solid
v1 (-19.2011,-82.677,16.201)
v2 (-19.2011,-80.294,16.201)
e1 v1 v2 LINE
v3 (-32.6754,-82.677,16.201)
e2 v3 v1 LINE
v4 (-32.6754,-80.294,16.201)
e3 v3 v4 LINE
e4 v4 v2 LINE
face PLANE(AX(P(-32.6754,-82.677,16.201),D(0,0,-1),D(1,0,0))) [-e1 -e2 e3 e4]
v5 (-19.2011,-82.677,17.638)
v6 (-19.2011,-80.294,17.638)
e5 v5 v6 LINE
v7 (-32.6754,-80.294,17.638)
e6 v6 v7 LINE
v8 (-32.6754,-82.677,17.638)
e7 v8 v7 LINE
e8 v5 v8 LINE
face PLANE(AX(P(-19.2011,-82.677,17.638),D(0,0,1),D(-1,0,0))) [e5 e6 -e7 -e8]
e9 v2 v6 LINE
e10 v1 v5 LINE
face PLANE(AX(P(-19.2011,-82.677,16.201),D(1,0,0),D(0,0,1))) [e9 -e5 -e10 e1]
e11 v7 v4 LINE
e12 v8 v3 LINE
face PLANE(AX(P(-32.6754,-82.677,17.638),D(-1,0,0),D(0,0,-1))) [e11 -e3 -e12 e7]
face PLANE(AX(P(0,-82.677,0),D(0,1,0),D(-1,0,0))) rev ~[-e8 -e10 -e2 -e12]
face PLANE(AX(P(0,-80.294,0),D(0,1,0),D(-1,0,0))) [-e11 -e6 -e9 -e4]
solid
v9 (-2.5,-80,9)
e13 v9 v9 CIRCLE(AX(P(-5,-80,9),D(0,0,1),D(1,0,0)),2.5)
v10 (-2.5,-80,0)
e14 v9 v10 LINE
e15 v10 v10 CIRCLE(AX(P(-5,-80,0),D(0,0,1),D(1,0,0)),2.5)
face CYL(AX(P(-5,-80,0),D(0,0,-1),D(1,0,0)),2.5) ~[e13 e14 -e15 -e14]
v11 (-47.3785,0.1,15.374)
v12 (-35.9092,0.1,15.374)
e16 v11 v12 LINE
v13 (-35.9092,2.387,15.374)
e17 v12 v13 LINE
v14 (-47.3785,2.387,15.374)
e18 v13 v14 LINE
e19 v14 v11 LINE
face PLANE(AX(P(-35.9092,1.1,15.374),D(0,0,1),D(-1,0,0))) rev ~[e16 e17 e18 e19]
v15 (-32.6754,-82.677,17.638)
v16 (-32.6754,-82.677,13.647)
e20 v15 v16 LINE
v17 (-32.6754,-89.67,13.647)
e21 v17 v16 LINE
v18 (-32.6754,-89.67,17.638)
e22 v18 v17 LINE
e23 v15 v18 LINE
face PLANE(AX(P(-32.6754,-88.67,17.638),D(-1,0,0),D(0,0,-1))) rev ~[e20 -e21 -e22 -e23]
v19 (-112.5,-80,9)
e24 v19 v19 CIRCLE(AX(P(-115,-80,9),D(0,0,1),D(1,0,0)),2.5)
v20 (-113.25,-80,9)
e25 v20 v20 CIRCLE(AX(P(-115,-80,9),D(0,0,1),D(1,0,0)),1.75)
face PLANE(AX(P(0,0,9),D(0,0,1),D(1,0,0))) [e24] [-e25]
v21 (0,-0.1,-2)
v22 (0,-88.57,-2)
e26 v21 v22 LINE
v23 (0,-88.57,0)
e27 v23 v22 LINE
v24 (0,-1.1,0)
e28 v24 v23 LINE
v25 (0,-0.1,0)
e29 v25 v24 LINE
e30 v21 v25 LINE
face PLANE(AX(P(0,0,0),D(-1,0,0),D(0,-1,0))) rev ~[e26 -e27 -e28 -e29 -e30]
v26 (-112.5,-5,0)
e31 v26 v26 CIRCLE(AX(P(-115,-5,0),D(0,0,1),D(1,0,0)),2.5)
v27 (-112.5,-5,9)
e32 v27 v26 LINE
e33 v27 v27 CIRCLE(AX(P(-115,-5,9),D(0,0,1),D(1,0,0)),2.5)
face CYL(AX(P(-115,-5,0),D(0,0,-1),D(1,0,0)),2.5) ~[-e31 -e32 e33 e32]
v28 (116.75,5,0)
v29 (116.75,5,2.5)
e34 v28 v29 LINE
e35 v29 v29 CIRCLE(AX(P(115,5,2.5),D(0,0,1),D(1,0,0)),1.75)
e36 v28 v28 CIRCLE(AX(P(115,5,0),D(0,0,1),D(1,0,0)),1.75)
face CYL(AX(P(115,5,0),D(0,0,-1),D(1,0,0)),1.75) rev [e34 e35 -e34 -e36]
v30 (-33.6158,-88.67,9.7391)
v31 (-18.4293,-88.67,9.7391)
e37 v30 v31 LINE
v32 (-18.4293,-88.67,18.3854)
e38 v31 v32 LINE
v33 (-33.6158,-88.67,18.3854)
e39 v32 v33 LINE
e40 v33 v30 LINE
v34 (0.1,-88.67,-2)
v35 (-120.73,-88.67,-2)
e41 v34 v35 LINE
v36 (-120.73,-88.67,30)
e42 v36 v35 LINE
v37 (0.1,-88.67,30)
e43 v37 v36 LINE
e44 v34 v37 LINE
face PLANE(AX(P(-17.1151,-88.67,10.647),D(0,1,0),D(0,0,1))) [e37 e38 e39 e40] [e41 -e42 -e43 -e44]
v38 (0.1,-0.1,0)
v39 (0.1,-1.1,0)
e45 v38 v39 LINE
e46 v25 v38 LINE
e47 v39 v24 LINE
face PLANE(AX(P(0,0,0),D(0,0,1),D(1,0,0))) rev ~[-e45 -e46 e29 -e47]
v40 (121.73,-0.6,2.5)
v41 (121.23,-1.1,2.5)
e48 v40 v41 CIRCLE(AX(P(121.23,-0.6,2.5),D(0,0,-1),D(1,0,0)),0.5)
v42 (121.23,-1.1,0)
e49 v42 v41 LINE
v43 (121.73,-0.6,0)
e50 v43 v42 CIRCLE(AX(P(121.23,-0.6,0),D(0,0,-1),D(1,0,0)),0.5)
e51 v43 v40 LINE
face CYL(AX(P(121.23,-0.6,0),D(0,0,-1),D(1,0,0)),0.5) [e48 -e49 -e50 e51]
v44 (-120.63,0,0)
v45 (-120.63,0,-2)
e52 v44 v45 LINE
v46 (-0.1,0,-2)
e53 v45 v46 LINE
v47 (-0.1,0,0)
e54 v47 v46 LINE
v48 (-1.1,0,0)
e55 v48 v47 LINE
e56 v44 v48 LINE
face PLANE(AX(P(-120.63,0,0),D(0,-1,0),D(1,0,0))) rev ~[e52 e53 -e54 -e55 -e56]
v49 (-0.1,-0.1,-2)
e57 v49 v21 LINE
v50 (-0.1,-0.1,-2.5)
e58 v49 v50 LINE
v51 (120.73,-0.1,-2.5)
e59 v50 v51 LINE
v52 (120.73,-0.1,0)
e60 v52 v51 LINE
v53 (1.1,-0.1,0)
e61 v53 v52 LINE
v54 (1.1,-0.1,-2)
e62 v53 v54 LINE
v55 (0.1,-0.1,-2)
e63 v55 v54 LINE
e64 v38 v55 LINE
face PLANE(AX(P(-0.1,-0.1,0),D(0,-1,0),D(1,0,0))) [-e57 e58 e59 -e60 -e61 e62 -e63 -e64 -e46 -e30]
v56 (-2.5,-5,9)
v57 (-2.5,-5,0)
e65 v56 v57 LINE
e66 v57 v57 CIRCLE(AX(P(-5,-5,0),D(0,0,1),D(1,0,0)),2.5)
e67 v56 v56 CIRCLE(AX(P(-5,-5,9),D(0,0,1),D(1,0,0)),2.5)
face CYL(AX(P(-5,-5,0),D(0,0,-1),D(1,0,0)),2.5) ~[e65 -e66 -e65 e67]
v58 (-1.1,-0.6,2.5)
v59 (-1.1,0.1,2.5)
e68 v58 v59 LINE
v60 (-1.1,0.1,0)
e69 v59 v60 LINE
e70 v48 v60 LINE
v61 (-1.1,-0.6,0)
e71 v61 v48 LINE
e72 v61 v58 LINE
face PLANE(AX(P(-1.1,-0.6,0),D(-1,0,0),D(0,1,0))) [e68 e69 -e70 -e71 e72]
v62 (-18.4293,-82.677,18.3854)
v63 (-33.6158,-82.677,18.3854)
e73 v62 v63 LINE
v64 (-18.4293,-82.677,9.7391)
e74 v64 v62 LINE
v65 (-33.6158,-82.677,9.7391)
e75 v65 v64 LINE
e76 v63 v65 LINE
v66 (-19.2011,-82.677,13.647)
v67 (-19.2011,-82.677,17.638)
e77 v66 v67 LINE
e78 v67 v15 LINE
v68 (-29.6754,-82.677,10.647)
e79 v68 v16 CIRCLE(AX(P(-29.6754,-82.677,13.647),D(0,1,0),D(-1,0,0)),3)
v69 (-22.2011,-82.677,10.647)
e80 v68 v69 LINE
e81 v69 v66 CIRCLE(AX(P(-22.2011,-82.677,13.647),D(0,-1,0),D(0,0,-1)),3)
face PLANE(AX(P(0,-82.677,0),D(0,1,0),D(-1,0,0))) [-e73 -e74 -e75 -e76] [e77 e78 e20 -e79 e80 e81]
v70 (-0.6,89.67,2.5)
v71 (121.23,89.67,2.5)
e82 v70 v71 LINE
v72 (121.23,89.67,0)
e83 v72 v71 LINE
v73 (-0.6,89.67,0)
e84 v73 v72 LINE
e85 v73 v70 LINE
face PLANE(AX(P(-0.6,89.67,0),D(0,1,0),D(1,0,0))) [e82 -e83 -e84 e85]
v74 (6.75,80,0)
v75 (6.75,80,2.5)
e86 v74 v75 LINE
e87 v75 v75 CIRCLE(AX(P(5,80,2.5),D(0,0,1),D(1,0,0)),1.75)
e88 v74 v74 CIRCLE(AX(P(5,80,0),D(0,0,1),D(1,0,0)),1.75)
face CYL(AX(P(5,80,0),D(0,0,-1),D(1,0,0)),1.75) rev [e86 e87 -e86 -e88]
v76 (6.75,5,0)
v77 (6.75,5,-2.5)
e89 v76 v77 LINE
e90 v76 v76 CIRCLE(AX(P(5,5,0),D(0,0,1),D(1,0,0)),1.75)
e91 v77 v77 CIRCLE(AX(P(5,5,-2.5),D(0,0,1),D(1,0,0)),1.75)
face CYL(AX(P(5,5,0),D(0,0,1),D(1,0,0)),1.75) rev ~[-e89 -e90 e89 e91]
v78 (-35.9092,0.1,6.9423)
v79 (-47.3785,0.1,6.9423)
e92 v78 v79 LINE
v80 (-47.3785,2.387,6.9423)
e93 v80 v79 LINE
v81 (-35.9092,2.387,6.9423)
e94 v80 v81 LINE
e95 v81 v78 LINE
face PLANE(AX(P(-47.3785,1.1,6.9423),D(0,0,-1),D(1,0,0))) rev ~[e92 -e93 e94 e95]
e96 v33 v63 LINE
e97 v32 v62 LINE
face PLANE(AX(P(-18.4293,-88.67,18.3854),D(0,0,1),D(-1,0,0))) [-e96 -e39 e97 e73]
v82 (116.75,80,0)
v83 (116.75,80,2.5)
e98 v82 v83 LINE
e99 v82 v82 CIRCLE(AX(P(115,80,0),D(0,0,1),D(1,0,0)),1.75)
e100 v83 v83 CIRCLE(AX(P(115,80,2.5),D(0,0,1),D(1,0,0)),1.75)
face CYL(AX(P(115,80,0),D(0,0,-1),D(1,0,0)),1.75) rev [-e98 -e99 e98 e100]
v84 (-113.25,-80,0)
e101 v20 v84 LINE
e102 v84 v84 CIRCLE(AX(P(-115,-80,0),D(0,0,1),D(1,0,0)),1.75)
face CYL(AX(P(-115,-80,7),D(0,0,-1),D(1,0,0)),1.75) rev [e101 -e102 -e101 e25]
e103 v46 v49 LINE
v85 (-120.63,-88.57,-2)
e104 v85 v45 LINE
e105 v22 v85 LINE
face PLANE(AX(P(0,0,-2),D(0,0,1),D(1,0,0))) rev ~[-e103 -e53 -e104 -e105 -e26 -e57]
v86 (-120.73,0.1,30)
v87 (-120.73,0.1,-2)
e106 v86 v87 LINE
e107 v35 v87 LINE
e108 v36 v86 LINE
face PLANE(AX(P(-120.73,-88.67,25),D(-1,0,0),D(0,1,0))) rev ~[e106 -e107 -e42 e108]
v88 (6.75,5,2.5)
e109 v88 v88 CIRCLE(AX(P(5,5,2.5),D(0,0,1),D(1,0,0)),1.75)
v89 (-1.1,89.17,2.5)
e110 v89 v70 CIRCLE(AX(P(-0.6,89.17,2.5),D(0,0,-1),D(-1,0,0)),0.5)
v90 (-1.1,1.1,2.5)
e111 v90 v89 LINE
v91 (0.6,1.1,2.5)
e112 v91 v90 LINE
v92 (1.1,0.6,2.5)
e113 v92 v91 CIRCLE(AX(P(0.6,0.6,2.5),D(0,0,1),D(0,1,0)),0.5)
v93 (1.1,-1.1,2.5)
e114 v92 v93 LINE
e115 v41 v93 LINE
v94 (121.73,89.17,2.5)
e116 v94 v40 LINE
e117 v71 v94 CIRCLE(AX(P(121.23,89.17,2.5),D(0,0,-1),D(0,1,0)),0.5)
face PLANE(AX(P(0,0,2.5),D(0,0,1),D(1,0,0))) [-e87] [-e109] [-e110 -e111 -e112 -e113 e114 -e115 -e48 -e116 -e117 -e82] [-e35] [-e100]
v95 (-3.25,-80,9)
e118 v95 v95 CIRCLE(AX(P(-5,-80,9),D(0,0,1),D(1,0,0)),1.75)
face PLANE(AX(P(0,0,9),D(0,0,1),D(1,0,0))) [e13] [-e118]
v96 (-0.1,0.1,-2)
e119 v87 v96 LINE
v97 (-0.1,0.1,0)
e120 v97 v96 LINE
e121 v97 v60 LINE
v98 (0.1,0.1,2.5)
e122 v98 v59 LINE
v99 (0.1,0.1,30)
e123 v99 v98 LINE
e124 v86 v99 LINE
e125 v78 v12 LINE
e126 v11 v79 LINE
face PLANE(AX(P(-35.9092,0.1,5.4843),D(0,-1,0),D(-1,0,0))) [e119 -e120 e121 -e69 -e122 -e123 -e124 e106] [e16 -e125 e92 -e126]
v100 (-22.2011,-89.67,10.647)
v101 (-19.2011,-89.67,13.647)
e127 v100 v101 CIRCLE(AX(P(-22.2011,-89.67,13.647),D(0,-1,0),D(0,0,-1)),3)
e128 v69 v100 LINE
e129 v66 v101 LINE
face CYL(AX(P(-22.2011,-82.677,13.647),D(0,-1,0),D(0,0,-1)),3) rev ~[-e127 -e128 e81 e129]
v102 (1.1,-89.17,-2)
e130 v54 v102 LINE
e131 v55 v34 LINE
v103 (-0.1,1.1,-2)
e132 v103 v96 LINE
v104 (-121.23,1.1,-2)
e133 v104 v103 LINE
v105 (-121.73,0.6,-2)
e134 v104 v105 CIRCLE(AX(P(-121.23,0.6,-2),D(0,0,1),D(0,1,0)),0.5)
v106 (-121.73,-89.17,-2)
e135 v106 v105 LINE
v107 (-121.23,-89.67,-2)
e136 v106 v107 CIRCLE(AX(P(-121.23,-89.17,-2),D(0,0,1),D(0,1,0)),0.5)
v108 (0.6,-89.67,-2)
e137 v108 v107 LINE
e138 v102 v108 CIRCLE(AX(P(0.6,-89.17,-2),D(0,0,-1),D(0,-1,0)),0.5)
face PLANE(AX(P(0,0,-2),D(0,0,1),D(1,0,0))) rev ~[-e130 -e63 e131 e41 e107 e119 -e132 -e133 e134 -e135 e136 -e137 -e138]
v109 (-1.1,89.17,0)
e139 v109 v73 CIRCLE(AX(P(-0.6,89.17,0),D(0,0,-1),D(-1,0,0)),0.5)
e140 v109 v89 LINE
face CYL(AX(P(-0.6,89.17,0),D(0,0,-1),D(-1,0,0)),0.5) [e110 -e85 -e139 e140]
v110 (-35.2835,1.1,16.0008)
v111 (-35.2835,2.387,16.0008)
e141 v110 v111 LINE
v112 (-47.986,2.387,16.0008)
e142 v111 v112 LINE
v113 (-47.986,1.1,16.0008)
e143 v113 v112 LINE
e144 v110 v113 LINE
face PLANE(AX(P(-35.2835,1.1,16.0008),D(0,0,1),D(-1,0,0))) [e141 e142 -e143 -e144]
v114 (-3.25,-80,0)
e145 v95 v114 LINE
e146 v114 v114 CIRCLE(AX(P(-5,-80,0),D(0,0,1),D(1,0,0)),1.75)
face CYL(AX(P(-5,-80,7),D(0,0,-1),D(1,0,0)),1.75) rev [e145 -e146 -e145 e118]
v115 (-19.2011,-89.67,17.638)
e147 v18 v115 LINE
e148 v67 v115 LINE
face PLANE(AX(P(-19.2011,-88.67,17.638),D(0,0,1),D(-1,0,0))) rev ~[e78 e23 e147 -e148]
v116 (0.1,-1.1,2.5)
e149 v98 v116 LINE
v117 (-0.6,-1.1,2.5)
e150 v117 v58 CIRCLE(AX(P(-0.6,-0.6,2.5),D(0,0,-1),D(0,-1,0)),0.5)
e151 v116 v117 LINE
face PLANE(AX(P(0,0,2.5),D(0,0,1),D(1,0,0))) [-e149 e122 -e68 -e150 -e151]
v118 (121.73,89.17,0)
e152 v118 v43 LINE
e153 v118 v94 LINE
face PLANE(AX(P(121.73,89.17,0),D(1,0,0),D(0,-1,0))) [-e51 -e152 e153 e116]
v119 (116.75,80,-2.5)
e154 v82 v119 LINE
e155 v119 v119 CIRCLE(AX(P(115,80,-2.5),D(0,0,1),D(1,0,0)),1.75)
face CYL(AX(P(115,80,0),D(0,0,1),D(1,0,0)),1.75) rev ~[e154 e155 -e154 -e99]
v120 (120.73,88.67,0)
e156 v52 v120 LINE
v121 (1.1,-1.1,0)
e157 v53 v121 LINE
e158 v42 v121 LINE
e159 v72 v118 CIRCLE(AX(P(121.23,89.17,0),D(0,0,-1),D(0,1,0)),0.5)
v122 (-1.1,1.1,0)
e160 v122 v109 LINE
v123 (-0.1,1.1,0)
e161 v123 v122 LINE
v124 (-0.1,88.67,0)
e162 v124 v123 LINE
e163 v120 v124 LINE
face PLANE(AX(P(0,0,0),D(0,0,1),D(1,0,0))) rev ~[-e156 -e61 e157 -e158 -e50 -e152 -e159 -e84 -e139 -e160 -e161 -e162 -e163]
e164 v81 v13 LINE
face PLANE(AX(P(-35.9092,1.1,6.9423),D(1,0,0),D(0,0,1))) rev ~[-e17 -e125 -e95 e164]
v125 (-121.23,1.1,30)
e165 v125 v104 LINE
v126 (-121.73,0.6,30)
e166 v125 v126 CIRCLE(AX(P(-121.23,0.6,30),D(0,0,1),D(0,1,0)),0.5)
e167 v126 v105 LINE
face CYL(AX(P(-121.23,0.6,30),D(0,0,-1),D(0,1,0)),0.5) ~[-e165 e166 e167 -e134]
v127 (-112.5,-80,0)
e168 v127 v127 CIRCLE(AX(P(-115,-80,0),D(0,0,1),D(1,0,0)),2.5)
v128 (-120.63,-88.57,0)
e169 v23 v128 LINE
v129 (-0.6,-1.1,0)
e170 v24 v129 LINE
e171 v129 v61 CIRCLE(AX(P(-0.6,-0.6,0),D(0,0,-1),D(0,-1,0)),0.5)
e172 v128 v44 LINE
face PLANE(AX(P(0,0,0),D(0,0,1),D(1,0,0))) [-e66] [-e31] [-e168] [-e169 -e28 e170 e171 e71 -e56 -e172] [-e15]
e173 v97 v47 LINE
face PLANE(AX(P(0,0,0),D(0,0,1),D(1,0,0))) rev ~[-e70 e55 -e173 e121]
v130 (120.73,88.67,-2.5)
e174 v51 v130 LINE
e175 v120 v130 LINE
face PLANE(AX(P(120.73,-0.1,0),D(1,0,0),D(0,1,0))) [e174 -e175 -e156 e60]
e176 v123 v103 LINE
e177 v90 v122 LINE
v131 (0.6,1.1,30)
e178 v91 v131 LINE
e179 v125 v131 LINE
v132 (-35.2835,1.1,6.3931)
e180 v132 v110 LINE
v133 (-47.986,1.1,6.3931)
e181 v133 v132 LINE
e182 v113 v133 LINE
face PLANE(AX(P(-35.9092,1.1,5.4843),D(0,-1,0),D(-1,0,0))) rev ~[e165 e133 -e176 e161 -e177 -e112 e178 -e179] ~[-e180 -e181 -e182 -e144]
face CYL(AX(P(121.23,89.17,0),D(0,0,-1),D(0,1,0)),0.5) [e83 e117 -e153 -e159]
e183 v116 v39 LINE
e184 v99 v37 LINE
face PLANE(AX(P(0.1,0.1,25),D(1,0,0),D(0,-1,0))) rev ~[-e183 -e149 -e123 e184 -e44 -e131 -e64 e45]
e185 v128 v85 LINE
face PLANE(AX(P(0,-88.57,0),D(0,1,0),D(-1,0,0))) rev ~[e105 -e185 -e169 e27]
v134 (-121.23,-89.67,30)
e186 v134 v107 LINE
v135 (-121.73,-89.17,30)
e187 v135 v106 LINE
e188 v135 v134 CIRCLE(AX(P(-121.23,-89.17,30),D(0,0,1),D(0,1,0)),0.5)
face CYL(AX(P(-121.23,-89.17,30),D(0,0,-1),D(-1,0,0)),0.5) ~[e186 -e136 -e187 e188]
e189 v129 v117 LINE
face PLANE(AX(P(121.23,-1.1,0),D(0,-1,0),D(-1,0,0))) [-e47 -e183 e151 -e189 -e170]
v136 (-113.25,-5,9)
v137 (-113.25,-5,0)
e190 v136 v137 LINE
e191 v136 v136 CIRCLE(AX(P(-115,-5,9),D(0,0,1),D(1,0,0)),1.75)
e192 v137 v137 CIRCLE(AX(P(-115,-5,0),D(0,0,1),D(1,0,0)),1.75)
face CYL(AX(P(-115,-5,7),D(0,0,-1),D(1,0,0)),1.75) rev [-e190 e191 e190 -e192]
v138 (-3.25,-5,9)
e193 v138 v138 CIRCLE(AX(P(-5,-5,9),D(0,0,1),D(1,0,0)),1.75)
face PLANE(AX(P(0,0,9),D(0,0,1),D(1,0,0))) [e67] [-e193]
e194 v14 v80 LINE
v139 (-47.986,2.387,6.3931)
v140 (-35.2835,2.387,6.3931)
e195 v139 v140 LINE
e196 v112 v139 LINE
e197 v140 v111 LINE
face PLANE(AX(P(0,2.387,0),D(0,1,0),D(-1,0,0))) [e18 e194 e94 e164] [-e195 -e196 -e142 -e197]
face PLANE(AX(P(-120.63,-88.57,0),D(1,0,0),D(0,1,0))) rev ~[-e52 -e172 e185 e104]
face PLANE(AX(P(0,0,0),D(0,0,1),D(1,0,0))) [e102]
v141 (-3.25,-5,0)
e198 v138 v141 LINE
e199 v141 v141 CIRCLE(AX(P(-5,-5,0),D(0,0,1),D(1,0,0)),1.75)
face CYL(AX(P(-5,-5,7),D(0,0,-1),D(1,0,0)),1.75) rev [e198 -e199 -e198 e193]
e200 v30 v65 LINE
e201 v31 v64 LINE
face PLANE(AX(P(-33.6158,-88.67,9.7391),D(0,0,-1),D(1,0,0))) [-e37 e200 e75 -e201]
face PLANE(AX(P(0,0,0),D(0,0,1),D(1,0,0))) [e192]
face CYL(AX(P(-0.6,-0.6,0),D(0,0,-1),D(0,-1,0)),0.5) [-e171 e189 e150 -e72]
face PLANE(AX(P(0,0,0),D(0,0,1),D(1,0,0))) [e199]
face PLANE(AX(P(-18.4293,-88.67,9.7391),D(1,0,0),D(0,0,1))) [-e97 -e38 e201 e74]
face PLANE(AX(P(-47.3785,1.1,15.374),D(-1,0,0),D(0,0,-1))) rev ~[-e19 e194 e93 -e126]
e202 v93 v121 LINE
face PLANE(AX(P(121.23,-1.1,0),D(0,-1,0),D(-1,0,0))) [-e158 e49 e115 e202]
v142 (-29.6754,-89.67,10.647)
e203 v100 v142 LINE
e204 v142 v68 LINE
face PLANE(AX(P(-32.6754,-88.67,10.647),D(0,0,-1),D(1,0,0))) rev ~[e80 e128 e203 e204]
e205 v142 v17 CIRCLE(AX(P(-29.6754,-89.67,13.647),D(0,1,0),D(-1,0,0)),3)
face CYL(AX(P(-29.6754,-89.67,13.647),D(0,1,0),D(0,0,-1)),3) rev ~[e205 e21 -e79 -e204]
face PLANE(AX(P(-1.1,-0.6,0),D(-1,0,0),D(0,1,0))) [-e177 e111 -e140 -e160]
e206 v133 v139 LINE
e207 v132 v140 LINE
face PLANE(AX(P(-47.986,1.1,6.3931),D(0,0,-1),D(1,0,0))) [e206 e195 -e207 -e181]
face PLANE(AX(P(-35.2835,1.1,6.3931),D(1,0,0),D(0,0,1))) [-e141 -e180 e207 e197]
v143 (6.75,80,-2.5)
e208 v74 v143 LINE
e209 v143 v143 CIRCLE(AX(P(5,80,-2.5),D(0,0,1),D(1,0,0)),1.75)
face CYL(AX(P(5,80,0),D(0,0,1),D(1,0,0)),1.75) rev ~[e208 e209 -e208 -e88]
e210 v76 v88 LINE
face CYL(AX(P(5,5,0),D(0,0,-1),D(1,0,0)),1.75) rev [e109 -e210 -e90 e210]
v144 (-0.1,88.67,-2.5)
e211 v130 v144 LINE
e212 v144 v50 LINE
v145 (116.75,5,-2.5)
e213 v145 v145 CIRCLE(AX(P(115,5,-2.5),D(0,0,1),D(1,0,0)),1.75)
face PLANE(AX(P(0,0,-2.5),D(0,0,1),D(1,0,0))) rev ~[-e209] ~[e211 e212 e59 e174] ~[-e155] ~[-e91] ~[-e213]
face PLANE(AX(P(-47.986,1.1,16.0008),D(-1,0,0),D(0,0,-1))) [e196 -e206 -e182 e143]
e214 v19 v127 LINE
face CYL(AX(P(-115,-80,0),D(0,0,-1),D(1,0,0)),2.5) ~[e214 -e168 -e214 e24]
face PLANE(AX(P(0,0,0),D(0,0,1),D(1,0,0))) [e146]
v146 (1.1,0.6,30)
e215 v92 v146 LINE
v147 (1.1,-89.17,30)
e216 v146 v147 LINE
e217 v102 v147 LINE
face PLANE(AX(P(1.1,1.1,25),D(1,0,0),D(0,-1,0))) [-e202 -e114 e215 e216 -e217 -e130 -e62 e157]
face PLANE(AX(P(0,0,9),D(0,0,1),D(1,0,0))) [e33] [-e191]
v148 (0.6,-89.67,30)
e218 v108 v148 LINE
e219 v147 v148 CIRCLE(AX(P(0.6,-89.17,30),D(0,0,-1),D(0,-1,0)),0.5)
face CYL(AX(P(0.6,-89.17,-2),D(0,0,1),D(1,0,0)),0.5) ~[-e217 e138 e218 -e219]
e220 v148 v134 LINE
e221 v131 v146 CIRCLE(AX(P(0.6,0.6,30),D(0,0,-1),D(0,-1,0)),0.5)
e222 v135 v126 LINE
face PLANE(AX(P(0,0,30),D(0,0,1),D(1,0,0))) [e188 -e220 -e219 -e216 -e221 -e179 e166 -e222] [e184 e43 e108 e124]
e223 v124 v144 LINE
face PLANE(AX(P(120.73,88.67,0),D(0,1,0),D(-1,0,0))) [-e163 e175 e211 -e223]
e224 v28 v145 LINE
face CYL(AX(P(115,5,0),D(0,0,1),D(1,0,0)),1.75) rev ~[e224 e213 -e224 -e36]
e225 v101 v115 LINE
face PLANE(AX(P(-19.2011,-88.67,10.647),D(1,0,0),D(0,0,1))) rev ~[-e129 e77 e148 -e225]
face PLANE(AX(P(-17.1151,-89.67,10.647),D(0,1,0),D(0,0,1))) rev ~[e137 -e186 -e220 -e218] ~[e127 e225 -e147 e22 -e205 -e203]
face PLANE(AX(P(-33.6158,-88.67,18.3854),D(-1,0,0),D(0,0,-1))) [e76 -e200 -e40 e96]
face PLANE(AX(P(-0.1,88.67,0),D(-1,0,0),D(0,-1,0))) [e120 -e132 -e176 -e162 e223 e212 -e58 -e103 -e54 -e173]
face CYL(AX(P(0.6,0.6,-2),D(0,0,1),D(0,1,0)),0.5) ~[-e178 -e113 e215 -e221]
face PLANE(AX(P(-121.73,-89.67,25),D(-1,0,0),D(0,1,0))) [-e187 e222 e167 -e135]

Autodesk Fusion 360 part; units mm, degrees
sketch "Sketch 1" plane through (0, 0, 0) normal (0, 0, 1) x (1, 0, 0)
  line L0 (-120.63, -88.57) -> (-120.63, 0)
  circle A0 centre (-115, -5) radius 1.75
  line L1 (0, 0) -> (0, -88.57)
  circle A1 centre (-115, -80) radius 1.75
  line L2 (-120.63, 0) -> (0, 0)
  circle A2 centre (-5, -80) radius 1.75
  line L3 (0, -88.57) -> (-120.63, -88.57)
  circle A3 centre (-5, -5) radius 1.75
  line L4 (0.1, -88.67) -> (-120.73, -88.67)
  line L5 (-120.73, -88.67) -> (-120.73, 0.1)
  line L6 (-120.73, 0.1) -> (0.1, 0.1)
  line L7 (0.1, 0.1) -> (0.1, -88.67)
  line L8 (1.1, -89.67) -> (-121.73, -89.67)
  line L9 (-121.73, -89.67) -> (-121.73, 1.1)
  line L10 (-121.73, 1.1) -> (1.1, 1.1)
  line L11 (1.1, 1.1) -> (1.1, -89.67)
  circle A4 centre (-115, -5) radius 2.5
  circle A5 centre (-115, -80) radius 2.5
  circle A6 centre (-5, -80) radius 2.5
  circle A7 centre (-5, -5) radius 2.5
  dimension "d1" = -0.1
  dimension "d2" = -1.1
  dimension "d7" = 5
  dimension "d8" = 5
  dimension "d9" = 5
  dimension "d10" = 5
extrude "Extrude1" add sketch "Sketch 1" against normal blind 2 contours L0 L1 L2 L3 | A0 | A1 | A2 | A3 | L8 L9 L10 L11 | A4 | A5 | A6 | A7 makes body 1 at (-40.21, -29.5233, 0) makes body 2 at (-40.1767, 0.7667, 0)
extrude "Extrude2" add sketch "Sketch 1" along normal blind 35 contours L8 L9 L10 L11 bodies 2
extrude "Extrude4" add sketch "Sketch 1" along normal blind 4 contours A4 | A5 | A6 | A7 bodies 1
extrude "Extrude5" add 4 faces at (-2.7658, -5.2111, 4) (-113.9872, -7.0026, 4) (-117.1045, -80.7791, 4) (-2.7593, -80.1242, 4) along direction (0, 0, 1) blind 3 on bodies 1 bodies 1
extrude "Extrude6" add 4 faces at (-113.9872, -7.0026, 7) (-2.7658, -5.2111, 7) (-117.1045, -80.7791, 7) (-2.7593, -80.1242, 7) along direction (0, 0, 1) blind 2 on bodies 1 bodies 1
extrude "Extrude7" cut 1 faces at (-40.1767, 0.7667, 35) along direction (0, 0, -1) blind 10 on bodies 2 bodies 2
extrude "Extrude8" add 1 faces at (-40.1767, 0.7667, 25) along direction (0, 0, 1) blind 5 on bodies 2 bodies 2
sketch "Sketch3" plane through (0, -89.67, 0) normal (0, -1, 0) x (1, 0, 0)
  line L0 (-121.73, 30) -> (-121.73, -2)
  line L1 (-121.73, -2) -> (1.1, -2)
  line L2 (1.1, -2) -> (1.1, 30)
  line L3 (1.1, 30) -> (-121.73, 30)
  line L4 (1.1, 5.8274) -> (-16.9, 5.8274) construction
  line L5 (-17.1151, -2) -> (-17.1151, 6) construction
  line L6 (-17.1151, 6) -> (-31.8464, 6)
  line L7 (-31.8464, 6) -> (-31.8464, 13)
  line L8 (-31.8464, 13) -> (-17.1151, 13)
  line L9 (-17.1151, 13) -> (-17.1151, 6)
  dimension "d23" = 18
  dimension "d24" = 8
  dimension "d25" = 7
extrude "Extrude9" cut sketch "Sketch3" along normal blind 5.784 from surface at -1 contours L6 L7 L8 L9 bodies 2
extrude "Extrude10" add 1 faces at (-22.0255, -89.0033, 6) along direction (0, 0, 1) blind 2.752 on bodies 2 bodies 2
extrude "Extrude11" cut 1 faces at (-26.936, -89.0033, 13) along direction (0, 0, 1) blind 2.948 on bodies 2 bodies 2
extrude "Extrude12" cut 1 faces at (-26.936, -89.0033, 15.948) along direction (0, 0, 1) blind 1.69 on bodies 2 bodies 2
extrude "Extrude13" add 1 faces at (-22.0255, -89.0033, 8.752) along direction (0, 0, 1) blind 1.895 on bodies 2 bodies 2
extrude "Extrude14" add 1 faces at (-17.1151, -89.0033, 15.3077) along direction (-1, 0, 0) blind 2.086 on bodies 2 bodies 2
extrude "Extrude15" cut 1 faces at (-31.8464, -89.0033, 12.9773) along direction (-1, 0, 0) blind 0.829 on bodies 2 bodies 2
sketch "Sketch4" plane through (0, -88.67, 0) normal (0, 1, 0) x (-1, 0, 0)
  line L0 (32.6754, 10.647) -> (19.2011, 10.647)
  line L1 (19.2011, 10.647) -> (19.2011, 17.638)
  line L2 (19.2011, 17.638) -> (32.6754, 17.638)
  line L3 (32.6754, 17.638) -> (32.6754, 10.647)
  line L4 (-0.1, 30) -> (-0.1, -2)
  line L5 (-0.1, -2) -> (120.73, -2)
  line L6 (120.73, -2) -> (120.73, 30)
  line L7 (120.73, 30) -> (-0.1, 30)
  line L8 (18.4293, 18.3854) -> (33.6158, 18.3854)
  line L9 (33.6158, 18.3854) -> (33.6158, 9.7391)
  line L10 (33.6158, 9.7391) -> (18.4293, 9.7391)
  line L11 (18.4293, 9.7391) -> (18.4293, 18.3854)
extrude "Extrude16" add sketch "Sketch4" along normal blind 12.179 contours L8 L9 L10 L11 bodies 2
extrude "Extrude17" cut 1 faces at (-33.3023, -76.491, 12.9239) along direction (0, -1, 0) blind 6.186 on bodies 2 bodies 2
fillet "Fillet1" radius 0.5 1 edges at (1.1, 1.1, 14) on bodies 2
fillet "Fillet2" radius 0.5 1 edges at (1.1, -89.67, 14) on bodies 2
fillet "Fillet3" radius 0.5 1 edges at (-121.73, 1.1, 14) on bodies 2
fillet "Fillet4" radius 0.5 1 edges at (-121.73, -89.67, 14) on bodies 2
fillet "Fillet5" radius 3 1 edges at (-19.2011, -86.1735, 10.647) on bodies 2
fillet "Fillet6" radius 3 1 edges at (-32.6754, -86.1735, 10.647) on bodies 2
sketch "Sketch5" plane through (0, -82.677, 0) normal (0, 1, 0) x (-1, 0, 0)
  line L0 (19.2011, 17.638) -> (32.6754, 17.638)
  line L1 (32.6754, 17.638) -> (32.6754, 13.647)
  arc A0 (29.6754, 10.647) -> (32.6754, 13.647) centre (29.6754, 13.647) ccw
  line L2 (29.6754, 10.647) -> (22.2011, 10.647)
  arc A1 (19.2011, 13.647) -> (22.2011, 10.647) centre (22.2011, 13.647) ccw
  line L3 (19.2011, 13.647) -> (19.2011, 17.638)
  line L4 (18.4293, 9.7391) -> (33.6158, 9.7391)
  line L5 (33.6158, 9.7391) -> (33.6158, 18.3854)
  line L6 (33.6158, 18.3854) -> (18.4293, 18.3854)
  line L7 (18.4293, 18.3854) -> (18.4293, 9.7391)
  line L8 (19.2011, 17.638) -> (32.6754, 17.638)
  line L9 (32.6754, 17.638) -> (32.6754, 16.201)
  line L10 (32.6754, 16.201) -> (19.2011, 16.201)
  line L11 (19.2011, 16.201) -> (19.2011, 17.638)
extrude "Extrude18" add sketch "Sketch5" along normal blind 2.383 separate body contours L0 L1 L3 L8 L9 L10 L11 makes body 3
sketch "Sketch6" plane through (0, -82.677, 0) normal (0, 1, 0) x (-1, 0, 0)
  line L0 (19.2011, 17.638) -> (32.6754, 17.638)
  line L1 (32.6754, 17.638) -> (32.6754, 13.647)
  arc A0 (29.6754, 10.647) -> (32.6754, 13.647) centre (29.6754, 13.647) ccw
  line L2 (29.6754, 10.647) -> (22.2011, 10.647)
  arc A1 (19.2011, 13.647) -> (22.2011, 10.647) centre (22.2011, 13.647) ccw
  line L3 (19.2011, 13.647) -> (19.2011, 17.638)
  line L4 (18.4293, 9.7391) -> (33.6158, 9.7391)
  line L5 (33.6158, 9.7391) -> (33.6158, 18.3854)
  line L6 (33.6158, 18.3854) -> (18.4293, 18.3854)
  line L7 (18.4293, 18.3854) -> (18.4293, 9.7391)
sketch "Sketch7" plane through (0, -82.677, 0) normal (0, 1, 0) x (-1, 0, 0)
sketch "Sketch8" plane through (0, -82.677, 0) normal (0, 1, 0) x (-1, 0, 0)
sketch "Sketch9" plane through (0, -82.677, 0) normal (0, 1, 0) x (-1, 0, 0)
sketch "Sketch10" plane through (0, -88.67, 0) normal (0, 1, 0) x (-1, 0, 0)
sketch "Sketch11" plane through (0, 1.1, 0) normal (0, 1, 0) x (-1, 0, 0)
  line L0 (121.23, -2) -> (121.23, 30)
  line L1 (121.23, 30) -> (-0.6, 30)
  line L2 (-0.6, 30) -> (-0.6, -2)
  line L3 (-0.6, -2) -> (121.23, -2)
  line L4 (19.1502, 15.374) -> (32.0205, 15.374)
  line L5 (32.0205, 15.374) -> (32.0205, 4.3423)
  line L6 (32.0205, 4.3423) -> (19.1502, 4.3423)
  line L7 (19.1502, 4.3423) -> (19.1502, 15.374)
extrude "Extrude19" cut sketch "Sketch11" along normal blind 7.369 from surface at -1 contours L4 L5 L6 L7 bodies 2
extrude "Extrude20" cut 1 faces at (-32.0205, 0.4333, 11.6967) along direction (-1, 0, 0) blind 22.557 on bodies 2 bodies 2
extrude "Extrude21" add 1 faces at (-19.1502, 0.4333, 8.0195) along direction (-1, 0, 0) blind 20.425 on bodies 2 bodies 2
extrude "Extrude22" cut 1 faces at (-39.5752, 0.4333, 8.0195) along direction (1, 0, 0) blind 4.126 on bodies 2 bodies 2
extrude "Extrude23" add 1 faces at (-54.5775, 0.4333, 11.6967) along direction (1, 0, 0) blind 5.127 on bodies 2 bodies 2
extrude "Extrude24" add 1 faces at (-44.7834, 0.4333, 4.3423) along direction (0, 0, 1) blind 0.064 on bodies 2 bodies 2
extrude "Extrude25" add 1 faces at (-49.4505, 0.4333, 11.7181) along direction (1, 0, 0) blind 2.072 on bodies 2 bodies 2
extrude "Extrude26" add 1 faces at (-35.4492, 0.7667, 8.0622) along direction (-1, 0, 0) blind 0.46 on bodies 2 bodies 2
extrude "Extrude27" add 1 faces at (-43.5554, 0.4333, 4.4063) along direction (0, 0, 1) blind 1.078 on bodies 2 bodies 2
extrude "Extrude28" add 1 faces at (-43.5554, 0.4333, 5.4843) along direction (0, 0, 1) blind 1.458 on bodies 2 bodies 2
sketch "Sketch12" plane through (0, 1.1, 0) normal (0, 1, 0) x (-1, 0, 0)
  line L0 (35.9092, 15.374) -> (47.3785, 15.374)
  line L1 (47.3785, 15.374) -> (47.3785, 6.9423)
  line L2 (47.3785, 6.9423) -> (35.9092, 6.9423)
  line L3 (35.9092, 6.9423) -> (35.9092, 15.374)
  line L4 (121.23, -2) -> (121.23, 30)
  line L5 (121.23, 30) -> (-0.6, 30)
  line L6 (-0.6, 30) -> (-0.6, -2)
  line L7 (-0.6, -2) -> (121.23, -2)
  line L8 (35.2835, 16.0008) -> (47.986, 16.0008)
  line L9 (47.986, 16.0008) -> (47.986, 6.3931)
  line L10 (47.986, 6.3931) -> (35.2835, 6.3931)
  line L11 (35.2835, 6.3931) -> (35.2835, 16.0008)
  dimension "d74" = 12.7025
extrude "Extrude29" add sketch "Sketch12" along normal blind 1.287 contours L8 L9 L10 L11 bodies 2
extrude "Extrude3" [suppressed]

Autodesk Fusion 360 part; units mm, degrees
sketch "Sketch 2" plane through (0, 0, 0) normal (0, 0, 1) x (1, 0, 0)
  circle A0 centre (5, 80) radius 1.75
  line L0 (-0.1, -0.1) -> (120.73, -0.1)
  arc A1 (-0.6, -1.1) -> (-1.1, -0.6) centre (-0.6, -0.6) cw
  line L1 (-1.1, -0.6) -> (-1.1, 89.17)
  arc A2 (-1.1, 89.17) -> (-0.6, 89.67) centre (-0.6, 89.17) cw
  line L2 (121.73, 89.17) -> (121.73, -0.6)
  circle A3 centre (115, 80) radius 1.75
  line L3 (120.73, -0.1) -> (120.73, 88.67)
  line L4 (120.73, 88.67) -> (-0.1, 88.67)
  circle A4 centre (115, 5) radius 1.75
  circle A5 centre (5, 5) radius 1.75
  line L5 (121.23, -1.1) -> (-0.6, -1.1)
  arc A6 (121.23, 89.67) -> (121.73, 89.17) centre (121.23, 89.17) cw
  line L6 (-0.1, 88.67) -> (-0.1, -0.1)
  arc A7 (121.73, -0.6) -> (121.23, -1.1) centre (121.23, -0.6) cw
  line L7 (-0.6, 89.67) -> (121.23, 89.67)
  line L8 (-0.1, 88.67) -> (120.73, 88.67)
  line L9 (120.73, 88.67) -> (120.73, -0.1)
  line L10 (120.73, -0.1) -> (-0.1, -0.1)
  line L11 (-0.1, -0.1) -> (-0.1, 88.67)
  dimension "d1" = 1
extrude "Extrude1" add sketch "Sketch 2" along normal blind 2.5 contours L0 L3 L4 L6 L8 L9 L10 L11 | A1 L1 A2 L2 L5 A6 A7 L7
extrude "Extrude2" add sketch "Sketch 2" against normal blind 2.5 contours L0 L3 L4 L6 L8 L9 L10 L11
